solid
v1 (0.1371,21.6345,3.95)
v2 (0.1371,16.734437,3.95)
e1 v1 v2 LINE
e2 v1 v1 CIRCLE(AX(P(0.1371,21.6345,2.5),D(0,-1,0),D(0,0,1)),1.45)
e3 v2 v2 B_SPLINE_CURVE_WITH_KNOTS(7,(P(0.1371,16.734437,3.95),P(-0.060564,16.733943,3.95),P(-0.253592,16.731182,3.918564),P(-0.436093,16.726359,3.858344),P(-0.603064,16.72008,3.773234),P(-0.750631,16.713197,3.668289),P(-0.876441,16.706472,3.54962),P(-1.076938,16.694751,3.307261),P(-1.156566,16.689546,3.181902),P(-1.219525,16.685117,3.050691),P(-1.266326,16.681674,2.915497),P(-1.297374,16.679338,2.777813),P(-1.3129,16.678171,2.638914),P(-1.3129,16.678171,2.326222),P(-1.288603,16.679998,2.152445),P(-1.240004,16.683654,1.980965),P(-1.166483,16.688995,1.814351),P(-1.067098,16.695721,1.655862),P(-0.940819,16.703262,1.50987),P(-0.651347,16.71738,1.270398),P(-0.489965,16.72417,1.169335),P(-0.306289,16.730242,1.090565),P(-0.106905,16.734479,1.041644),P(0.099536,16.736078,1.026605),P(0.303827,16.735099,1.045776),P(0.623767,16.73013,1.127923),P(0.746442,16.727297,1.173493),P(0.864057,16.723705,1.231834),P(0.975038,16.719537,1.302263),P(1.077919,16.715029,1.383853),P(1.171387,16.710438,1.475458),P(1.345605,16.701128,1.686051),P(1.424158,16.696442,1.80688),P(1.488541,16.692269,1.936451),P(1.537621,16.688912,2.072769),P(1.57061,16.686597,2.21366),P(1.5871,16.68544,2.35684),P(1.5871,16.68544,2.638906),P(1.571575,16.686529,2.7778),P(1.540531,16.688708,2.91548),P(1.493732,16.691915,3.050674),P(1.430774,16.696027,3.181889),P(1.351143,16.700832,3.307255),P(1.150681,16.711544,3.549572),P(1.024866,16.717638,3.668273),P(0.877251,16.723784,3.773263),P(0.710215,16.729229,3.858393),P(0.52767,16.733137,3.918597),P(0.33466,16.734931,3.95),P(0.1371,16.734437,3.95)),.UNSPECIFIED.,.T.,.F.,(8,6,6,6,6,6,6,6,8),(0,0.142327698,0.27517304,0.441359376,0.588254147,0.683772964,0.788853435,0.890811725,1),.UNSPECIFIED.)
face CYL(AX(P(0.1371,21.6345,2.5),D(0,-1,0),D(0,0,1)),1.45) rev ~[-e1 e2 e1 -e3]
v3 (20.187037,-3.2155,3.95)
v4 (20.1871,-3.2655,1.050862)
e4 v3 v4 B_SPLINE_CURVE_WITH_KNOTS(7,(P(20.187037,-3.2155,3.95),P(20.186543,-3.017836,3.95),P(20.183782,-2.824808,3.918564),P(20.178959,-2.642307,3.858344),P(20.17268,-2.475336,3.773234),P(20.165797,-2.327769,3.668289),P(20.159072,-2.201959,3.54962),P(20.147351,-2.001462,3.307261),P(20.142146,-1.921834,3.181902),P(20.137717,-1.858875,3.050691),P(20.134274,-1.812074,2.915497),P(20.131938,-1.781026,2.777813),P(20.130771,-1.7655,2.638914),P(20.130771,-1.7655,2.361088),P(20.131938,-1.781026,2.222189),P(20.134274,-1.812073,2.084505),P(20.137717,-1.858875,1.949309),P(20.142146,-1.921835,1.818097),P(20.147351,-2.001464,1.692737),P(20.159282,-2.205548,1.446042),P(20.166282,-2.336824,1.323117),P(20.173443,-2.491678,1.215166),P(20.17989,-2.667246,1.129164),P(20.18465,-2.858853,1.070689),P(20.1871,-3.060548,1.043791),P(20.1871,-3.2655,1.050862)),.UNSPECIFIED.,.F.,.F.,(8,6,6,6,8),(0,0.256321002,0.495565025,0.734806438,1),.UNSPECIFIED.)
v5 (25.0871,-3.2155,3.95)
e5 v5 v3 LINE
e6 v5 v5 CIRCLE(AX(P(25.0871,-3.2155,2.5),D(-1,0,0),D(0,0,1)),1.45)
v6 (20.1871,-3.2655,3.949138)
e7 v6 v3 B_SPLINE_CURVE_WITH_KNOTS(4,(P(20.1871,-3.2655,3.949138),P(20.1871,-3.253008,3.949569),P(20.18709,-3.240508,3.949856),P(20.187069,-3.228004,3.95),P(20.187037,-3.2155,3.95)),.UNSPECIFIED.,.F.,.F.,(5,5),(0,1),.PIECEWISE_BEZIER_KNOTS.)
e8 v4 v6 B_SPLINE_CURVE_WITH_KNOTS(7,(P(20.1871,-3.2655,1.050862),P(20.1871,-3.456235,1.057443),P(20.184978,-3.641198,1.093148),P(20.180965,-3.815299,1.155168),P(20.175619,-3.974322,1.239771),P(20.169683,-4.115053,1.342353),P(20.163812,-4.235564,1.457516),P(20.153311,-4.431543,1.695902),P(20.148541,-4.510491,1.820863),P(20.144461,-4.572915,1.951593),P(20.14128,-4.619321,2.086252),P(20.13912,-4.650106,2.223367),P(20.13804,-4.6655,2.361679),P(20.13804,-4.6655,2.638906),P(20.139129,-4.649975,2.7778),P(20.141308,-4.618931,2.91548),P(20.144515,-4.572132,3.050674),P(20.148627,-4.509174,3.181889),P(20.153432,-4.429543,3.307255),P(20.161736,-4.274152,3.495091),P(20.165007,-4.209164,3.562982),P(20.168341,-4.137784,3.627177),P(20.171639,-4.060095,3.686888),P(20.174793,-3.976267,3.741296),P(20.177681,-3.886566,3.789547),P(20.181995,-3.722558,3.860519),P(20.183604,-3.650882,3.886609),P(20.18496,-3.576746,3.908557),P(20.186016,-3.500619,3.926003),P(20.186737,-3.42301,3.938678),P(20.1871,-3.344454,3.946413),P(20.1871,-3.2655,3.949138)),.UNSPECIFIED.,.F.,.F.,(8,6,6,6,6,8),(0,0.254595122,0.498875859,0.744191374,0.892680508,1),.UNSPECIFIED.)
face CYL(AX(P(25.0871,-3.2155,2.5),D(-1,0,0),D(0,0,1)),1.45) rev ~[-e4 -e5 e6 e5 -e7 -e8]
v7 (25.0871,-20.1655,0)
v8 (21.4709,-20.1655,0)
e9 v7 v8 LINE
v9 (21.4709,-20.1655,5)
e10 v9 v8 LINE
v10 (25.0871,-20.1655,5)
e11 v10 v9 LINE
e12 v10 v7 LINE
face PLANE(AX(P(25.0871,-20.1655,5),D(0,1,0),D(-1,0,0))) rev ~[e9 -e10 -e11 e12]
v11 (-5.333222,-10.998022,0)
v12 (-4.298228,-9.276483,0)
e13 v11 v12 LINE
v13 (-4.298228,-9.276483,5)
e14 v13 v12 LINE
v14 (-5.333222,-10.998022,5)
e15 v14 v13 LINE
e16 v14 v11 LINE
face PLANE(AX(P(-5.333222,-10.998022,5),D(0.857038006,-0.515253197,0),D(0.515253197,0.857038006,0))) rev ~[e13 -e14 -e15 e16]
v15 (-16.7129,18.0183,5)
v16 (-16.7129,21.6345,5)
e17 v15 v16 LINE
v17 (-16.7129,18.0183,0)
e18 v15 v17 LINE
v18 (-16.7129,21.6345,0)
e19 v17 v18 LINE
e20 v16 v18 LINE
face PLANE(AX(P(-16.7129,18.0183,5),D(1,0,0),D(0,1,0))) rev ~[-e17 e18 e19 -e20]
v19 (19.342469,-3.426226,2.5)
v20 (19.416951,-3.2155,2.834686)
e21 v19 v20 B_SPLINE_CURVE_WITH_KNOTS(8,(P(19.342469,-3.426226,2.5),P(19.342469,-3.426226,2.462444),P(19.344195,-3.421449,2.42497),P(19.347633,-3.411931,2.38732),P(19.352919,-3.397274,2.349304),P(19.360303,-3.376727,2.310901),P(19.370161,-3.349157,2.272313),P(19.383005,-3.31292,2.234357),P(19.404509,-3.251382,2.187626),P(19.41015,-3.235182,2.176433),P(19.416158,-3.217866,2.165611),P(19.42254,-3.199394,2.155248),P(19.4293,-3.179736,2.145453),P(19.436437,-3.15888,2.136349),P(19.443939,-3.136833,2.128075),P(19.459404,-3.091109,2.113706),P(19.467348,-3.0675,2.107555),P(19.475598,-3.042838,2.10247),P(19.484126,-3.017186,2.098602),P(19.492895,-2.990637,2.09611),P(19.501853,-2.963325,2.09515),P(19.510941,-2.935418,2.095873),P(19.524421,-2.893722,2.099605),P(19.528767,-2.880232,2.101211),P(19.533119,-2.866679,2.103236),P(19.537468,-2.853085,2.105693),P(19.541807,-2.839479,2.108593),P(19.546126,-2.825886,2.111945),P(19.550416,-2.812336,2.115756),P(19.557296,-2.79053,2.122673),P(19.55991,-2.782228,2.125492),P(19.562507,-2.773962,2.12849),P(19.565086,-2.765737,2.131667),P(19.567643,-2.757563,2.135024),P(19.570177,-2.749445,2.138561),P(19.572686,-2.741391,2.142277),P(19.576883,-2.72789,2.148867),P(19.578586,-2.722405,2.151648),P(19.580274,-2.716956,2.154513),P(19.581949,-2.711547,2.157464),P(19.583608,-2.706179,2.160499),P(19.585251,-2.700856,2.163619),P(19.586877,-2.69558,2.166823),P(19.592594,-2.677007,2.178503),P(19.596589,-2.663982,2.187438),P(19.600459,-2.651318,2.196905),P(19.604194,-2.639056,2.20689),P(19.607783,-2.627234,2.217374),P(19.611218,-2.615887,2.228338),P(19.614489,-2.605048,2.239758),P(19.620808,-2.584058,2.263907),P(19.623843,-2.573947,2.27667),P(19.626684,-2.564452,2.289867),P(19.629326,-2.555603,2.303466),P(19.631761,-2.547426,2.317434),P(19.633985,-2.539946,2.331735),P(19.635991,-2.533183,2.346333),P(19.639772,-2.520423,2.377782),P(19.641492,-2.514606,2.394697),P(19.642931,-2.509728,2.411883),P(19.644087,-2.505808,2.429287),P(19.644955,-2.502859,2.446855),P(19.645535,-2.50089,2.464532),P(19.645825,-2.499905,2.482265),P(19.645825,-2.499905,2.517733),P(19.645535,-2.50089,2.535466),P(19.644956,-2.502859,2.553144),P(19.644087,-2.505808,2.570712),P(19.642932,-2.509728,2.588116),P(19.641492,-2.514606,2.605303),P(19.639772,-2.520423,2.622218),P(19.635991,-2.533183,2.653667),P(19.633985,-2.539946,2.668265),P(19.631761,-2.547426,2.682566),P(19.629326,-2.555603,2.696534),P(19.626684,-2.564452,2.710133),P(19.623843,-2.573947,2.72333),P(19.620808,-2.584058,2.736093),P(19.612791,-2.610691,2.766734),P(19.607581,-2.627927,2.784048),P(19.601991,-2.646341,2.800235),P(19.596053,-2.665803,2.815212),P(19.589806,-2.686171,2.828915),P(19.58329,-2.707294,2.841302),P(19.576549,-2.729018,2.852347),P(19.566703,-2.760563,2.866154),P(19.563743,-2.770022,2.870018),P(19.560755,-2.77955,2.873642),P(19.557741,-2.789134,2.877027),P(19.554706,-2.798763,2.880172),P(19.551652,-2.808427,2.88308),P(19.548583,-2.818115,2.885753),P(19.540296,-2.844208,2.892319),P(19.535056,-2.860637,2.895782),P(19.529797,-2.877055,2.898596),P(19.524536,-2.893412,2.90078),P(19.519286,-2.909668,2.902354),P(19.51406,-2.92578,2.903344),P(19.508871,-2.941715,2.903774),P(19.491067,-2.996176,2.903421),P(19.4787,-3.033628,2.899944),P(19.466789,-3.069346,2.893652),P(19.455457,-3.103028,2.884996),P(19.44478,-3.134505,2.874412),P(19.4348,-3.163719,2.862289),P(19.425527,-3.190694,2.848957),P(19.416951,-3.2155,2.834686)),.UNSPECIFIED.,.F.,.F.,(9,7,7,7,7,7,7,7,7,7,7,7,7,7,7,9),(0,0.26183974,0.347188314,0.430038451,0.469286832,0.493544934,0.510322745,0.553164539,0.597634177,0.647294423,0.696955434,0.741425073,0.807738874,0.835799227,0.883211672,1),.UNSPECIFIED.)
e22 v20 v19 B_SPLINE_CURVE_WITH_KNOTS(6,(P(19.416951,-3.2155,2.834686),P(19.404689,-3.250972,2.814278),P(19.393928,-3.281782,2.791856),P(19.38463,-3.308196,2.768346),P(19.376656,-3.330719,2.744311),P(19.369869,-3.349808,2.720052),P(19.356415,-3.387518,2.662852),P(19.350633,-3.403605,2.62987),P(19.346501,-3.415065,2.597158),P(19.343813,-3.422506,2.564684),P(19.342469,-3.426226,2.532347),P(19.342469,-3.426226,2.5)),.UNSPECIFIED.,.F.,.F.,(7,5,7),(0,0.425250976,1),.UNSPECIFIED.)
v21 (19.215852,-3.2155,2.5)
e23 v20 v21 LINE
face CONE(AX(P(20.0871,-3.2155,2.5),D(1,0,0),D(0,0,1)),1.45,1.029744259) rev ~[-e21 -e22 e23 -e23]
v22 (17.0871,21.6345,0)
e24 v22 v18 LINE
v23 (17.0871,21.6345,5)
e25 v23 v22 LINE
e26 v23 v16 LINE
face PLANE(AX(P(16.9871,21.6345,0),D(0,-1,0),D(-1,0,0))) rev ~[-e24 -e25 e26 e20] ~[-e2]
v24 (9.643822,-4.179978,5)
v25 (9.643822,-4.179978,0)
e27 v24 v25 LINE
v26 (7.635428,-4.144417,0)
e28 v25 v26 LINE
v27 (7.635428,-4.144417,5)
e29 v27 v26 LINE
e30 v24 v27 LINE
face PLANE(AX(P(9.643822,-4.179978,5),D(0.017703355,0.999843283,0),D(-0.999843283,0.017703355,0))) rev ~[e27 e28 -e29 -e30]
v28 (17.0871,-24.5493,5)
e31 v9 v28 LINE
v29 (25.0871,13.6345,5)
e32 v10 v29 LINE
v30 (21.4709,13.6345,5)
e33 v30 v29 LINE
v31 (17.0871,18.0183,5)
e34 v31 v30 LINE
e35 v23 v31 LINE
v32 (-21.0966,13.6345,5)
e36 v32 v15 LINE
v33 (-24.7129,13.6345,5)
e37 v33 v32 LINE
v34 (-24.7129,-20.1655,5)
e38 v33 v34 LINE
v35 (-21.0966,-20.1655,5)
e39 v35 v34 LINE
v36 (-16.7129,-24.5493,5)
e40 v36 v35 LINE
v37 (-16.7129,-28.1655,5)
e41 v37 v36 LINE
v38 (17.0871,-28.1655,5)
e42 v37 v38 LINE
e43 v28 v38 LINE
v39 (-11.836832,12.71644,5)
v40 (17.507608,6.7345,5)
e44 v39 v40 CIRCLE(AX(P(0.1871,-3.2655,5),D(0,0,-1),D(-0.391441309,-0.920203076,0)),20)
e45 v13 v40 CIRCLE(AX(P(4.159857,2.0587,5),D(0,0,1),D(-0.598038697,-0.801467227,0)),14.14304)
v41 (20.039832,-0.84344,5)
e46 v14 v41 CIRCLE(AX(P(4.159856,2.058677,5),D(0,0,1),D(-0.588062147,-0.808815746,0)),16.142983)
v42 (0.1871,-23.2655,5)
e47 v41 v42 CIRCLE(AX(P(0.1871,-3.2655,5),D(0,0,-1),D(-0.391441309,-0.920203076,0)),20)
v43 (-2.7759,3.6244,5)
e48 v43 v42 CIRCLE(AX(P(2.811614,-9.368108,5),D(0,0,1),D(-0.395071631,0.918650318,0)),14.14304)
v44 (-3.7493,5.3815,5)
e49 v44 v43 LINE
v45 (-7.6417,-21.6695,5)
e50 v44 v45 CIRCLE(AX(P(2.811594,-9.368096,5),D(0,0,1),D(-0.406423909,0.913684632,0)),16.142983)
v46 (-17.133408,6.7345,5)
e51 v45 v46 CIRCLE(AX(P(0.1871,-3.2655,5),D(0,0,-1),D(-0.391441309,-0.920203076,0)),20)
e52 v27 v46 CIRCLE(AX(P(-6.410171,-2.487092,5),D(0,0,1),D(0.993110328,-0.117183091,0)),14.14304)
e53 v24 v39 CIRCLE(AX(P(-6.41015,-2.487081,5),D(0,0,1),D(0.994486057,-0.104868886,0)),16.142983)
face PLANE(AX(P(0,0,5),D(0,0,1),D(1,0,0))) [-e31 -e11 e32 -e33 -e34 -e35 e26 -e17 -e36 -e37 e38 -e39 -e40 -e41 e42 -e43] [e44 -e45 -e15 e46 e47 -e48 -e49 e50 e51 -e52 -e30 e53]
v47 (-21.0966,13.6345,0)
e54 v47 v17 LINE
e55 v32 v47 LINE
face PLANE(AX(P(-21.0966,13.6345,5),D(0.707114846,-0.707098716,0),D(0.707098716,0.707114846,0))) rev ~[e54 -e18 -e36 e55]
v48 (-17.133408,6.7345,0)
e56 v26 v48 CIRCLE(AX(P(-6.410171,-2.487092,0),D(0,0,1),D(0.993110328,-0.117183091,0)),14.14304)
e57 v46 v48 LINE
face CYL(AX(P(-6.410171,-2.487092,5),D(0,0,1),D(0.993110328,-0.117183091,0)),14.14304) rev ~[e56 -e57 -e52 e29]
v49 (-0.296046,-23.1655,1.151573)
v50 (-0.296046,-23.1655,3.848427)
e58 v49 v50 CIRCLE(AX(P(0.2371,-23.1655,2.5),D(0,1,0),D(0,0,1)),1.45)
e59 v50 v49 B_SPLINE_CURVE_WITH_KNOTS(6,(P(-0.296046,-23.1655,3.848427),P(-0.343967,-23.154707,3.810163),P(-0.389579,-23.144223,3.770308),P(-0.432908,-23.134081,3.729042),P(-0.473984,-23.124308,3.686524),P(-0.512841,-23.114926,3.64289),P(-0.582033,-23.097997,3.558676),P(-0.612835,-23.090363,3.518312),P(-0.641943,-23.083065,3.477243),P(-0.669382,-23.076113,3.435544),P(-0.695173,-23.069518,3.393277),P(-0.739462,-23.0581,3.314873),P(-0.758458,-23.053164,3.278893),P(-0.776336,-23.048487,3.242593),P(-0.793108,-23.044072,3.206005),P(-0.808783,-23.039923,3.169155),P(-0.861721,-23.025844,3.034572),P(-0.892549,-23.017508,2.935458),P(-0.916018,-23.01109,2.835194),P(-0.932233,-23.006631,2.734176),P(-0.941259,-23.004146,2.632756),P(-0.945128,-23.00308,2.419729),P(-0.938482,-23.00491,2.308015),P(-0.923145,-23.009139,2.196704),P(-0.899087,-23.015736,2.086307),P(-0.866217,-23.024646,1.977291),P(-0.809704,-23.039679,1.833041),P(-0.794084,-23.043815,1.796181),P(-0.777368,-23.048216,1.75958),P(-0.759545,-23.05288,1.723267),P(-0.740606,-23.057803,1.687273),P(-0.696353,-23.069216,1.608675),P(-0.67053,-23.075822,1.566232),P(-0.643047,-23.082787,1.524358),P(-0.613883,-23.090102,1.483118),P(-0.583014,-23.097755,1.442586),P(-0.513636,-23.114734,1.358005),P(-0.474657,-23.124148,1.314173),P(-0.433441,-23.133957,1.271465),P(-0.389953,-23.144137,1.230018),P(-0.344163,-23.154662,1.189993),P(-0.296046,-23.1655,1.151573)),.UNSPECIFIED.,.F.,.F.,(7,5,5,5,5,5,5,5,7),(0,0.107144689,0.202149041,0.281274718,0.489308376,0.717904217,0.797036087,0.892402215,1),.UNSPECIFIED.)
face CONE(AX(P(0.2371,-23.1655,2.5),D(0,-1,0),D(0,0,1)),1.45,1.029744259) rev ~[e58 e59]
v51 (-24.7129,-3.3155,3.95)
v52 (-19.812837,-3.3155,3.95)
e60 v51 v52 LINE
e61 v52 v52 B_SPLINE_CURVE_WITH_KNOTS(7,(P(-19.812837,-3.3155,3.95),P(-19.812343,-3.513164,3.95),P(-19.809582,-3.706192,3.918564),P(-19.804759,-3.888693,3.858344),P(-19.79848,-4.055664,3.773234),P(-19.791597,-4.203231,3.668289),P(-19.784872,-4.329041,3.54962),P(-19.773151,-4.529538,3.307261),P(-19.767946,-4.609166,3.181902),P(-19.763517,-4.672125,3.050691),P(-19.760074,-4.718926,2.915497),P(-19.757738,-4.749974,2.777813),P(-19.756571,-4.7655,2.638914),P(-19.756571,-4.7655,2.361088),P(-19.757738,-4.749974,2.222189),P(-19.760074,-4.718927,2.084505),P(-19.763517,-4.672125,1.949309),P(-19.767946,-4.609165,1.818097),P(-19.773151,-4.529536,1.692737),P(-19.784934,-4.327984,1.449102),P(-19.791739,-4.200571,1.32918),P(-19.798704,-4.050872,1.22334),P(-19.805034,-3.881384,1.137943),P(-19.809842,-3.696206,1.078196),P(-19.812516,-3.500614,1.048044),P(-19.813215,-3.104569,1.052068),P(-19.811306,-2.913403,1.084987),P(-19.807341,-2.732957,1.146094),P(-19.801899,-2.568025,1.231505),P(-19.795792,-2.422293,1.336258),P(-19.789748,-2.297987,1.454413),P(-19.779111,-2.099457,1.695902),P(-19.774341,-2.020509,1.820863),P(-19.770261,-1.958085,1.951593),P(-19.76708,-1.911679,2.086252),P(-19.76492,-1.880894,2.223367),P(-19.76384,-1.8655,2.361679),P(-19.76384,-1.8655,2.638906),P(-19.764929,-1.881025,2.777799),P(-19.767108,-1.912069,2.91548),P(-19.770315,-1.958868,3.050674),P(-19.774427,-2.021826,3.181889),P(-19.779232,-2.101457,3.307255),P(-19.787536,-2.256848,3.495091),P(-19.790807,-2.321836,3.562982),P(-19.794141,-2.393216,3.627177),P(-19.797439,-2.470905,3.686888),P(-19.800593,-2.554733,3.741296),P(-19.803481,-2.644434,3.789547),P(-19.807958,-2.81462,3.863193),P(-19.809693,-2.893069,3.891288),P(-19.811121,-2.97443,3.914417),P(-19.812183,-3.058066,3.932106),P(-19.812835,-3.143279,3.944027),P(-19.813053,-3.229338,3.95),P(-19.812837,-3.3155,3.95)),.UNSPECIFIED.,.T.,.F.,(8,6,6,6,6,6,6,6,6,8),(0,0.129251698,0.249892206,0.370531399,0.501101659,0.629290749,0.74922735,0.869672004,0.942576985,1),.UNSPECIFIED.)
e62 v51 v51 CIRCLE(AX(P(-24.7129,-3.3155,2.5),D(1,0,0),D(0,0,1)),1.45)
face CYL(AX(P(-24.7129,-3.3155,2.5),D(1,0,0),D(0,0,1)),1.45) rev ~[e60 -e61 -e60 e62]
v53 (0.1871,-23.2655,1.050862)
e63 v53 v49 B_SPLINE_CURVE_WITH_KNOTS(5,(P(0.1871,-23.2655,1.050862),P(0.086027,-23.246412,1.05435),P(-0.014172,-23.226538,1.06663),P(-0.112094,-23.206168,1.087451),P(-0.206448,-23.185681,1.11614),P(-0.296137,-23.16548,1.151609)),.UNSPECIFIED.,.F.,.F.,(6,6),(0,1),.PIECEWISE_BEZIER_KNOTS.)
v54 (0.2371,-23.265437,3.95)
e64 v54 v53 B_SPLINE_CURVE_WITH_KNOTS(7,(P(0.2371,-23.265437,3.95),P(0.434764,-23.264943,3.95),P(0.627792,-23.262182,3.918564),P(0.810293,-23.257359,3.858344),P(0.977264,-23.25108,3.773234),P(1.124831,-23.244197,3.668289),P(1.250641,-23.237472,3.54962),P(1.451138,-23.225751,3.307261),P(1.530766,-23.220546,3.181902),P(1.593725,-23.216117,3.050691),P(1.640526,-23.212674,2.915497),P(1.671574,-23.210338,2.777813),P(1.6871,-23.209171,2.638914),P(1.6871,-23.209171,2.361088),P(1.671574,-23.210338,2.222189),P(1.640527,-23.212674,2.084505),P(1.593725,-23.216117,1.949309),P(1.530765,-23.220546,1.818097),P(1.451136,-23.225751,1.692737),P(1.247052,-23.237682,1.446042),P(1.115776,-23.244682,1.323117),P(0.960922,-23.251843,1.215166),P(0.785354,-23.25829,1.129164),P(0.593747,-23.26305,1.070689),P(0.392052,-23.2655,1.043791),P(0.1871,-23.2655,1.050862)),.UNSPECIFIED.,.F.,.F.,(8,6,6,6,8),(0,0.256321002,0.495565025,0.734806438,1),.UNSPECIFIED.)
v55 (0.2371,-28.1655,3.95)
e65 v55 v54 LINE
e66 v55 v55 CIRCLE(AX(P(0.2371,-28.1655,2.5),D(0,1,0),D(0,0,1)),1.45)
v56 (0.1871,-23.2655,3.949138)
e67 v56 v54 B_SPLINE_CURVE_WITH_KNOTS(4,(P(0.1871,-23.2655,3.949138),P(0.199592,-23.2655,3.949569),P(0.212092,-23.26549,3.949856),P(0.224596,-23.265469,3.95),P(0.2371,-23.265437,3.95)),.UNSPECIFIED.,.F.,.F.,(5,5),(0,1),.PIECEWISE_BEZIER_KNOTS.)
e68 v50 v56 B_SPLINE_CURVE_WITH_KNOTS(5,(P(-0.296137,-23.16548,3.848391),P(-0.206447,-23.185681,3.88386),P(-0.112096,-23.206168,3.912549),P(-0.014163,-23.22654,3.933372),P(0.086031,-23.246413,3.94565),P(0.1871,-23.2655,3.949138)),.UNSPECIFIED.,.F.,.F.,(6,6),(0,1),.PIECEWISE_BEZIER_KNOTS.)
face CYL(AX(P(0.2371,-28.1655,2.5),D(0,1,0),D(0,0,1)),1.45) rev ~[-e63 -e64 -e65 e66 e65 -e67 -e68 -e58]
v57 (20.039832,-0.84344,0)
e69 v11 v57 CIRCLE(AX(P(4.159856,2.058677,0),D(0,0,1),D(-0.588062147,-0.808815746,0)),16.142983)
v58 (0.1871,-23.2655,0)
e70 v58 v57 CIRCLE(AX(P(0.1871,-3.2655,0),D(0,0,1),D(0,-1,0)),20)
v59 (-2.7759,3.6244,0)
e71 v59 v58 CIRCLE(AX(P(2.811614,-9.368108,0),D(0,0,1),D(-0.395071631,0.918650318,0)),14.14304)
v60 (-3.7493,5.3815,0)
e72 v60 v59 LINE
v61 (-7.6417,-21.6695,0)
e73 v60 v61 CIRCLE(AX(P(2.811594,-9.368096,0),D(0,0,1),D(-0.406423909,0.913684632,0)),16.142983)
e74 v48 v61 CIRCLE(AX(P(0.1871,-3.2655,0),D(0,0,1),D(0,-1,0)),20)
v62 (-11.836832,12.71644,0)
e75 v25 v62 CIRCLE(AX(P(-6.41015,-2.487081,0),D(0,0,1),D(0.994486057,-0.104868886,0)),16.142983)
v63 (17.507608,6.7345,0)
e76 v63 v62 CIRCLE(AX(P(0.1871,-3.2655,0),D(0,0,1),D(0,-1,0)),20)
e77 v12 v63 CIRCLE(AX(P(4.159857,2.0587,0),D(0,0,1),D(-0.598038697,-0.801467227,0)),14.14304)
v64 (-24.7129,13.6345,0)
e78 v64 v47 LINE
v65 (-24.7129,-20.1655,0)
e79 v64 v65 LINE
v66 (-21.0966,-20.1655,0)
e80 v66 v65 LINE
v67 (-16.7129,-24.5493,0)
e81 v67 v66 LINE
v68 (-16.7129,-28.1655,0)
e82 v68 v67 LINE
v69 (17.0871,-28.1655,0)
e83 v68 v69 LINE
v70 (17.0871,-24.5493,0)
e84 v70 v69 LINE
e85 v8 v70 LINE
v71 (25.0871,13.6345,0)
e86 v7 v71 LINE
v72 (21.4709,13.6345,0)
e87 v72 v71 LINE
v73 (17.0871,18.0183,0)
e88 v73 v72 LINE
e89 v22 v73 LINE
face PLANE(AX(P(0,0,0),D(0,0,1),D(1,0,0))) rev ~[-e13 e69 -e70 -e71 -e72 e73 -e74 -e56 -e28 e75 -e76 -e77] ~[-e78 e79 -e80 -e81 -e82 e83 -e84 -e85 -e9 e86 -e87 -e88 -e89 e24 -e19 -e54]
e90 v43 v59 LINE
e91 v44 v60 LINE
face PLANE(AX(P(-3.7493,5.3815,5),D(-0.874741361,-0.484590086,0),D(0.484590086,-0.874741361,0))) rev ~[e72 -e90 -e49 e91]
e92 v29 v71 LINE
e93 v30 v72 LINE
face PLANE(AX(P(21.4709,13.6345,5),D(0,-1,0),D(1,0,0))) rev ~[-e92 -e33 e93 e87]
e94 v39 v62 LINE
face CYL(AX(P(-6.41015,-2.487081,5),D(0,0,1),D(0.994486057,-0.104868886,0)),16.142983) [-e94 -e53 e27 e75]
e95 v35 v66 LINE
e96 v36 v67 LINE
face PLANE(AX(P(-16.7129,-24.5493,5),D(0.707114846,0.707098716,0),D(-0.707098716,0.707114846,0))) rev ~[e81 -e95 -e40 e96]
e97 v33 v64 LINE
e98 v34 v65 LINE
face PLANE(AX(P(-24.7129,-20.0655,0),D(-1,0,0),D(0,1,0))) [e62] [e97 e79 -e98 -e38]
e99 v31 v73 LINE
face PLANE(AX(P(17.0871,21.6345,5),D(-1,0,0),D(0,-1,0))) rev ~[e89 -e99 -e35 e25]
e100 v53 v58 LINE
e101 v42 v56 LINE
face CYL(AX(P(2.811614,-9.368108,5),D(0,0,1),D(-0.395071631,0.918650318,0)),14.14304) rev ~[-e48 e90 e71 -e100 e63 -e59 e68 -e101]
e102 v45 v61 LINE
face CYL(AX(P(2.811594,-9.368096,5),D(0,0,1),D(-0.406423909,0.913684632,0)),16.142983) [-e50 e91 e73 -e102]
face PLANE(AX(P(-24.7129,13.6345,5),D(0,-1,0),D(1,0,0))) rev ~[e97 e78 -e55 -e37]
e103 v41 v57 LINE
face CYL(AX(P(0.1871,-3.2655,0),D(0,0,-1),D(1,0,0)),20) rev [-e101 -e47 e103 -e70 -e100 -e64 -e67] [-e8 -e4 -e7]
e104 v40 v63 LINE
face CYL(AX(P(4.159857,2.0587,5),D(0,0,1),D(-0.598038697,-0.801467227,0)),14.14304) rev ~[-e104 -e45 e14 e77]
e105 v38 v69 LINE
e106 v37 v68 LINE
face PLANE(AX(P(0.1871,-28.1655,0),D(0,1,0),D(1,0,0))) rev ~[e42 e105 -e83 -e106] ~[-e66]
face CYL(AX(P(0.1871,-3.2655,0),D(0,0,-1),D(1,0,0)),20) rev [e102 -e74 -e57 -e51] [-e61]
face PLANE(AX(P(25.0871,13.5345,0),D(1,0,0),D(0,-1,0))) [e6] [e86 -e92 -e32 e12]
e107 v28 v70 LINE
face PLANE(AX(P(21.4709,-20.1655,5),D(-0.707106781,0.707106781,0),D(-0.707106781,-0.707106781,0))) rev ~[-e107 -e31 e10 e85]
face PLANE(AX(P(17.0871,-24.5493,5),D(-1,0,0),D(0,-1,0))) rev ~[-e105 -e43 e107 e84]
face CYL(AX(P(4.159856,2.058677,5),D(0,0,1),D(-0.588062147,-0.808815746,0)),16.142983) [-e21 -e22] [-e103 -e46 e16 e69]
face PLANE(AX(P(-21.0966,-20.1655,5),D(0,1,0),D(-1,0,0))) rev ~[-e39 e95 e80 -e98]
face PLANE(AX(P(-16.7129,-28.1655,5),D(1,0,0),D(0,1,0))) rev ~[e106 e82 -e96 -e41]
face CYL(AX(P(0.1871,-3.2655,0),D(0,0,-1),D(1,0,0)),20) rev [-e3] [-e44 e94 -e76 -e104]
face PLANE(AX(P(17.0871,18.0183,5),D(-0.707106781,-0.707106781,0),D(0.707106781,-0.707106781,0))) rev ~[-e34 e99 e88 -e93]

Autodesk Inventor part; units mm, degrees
ref_plane "YZ Plane" through (0, 0, 0) normal (1, 0, 0) x (0, 1, 0)
ref_plane "XZ Plane" through (0, 0, 0) normal (0, 1, 0) x (-1, 0, 0)
ref_plane "XY Plane" through (0, 0, 0) normal (0, 0, 1) x (1, 0, 0)
sketch "Sketch1" plane through (0, 0, 0) normal (0, 0, 1) x (1, 0, 0)
  line L0 (21.5871, 13.6345) -> (17.0871, 18.1345) projected
  line L1 (17.0871, 18.1345) -> (-16.7129, 18.1345) projected
  line L2 (-16.7129, 18.1345) -> (-21.2129, 13.6345) projected
  line L3 (-21.0966, 13.6345) -> (-21.0966, -20.1655) projected
  line L4 (21.4709, -20.1655) -> (21.4709, 13.6345) projected
  line L5 (21.4709, -20.1655) -> (17.0871, -24.4078) projected
  line L6 (-16.7129, -24.4078) -> (17.0871, -24.4078) projected
  line L7 (-16.7129, -24.4078) -> (-21.0966, -20.1655) projected
  line L8 (-24.7129, -28.1655) -> (-24.7129, 13.6345) construction
  line L9 (25.0871, -28.1655) -> (-24.7129, -28.1655) construction
  line L10 (25.0871, -28.1655) -> (25.0871, 13.6345) construction
  line L11 (17.0871, 21.6345) -> (-16.7129, 21.6345) construction
  line L12 (0.1871, -36.5255) -> (0.1871, 21.9945)
  line L13 (-21.0552, -20.0655) -> (-16.6129, -24.5078)
  line L14 (-16.6129, -24.5078) -> (-16.6129, -28.1655)
  line L15 (-16.6129, -28.1655) -> (16.9871, -28.1655)
  line L16 (16.9871, -28.1655) -> (16.9871, -24.5078)
  line L17 (16.9871, -24.5078) -> (21.4295, -20.0655)
  line L18 (25.0871, -20.0655) -> (21.4295, -20.0655)
  line L19 (25.0871, 13.5345) -> (25.0871, -20.0655)
  line L20 (21.4295, 13.5345) -> (25.0871, 13.5345)
  line L21 (21.4295, 13.5345) -> (16.9871, 17.9768)
  line L22 (16.9871, 17.9768) -> (16.9871, 21.6345)
  line L23 (16.9871, 21.6345) -> (-16.6129, 21.6345)
  line L24 (-16.6129, 21.6345) -> (-16.6129, 17.9768)
  line L25 (-16.6129, 17.9768) -> (-21.0552, 13.5345)
  line L26 (-24.7129, 13.5345) -> (-21.0552, 13.5345)
  line L27 (-24.7129, -20.0655) -> (-24.7129, 13.5345)
  line L28 (-21.0552, -20.0655) -> (-24.7129, -20.0655)
  circle A0 centre (0.1871, -3.2655) radius 12.5 construction
  circle A1 centre (0.1871, -3.2655) radius 16.9 construction
  circle A2 centre (0.1871, -3.2655) radius 7.5 construction
  line L29 (0.547, -12.2476) -> (0.8041, -10.7401)
  arc A3 (-10.8411, 9.29) -> (0.8041, -10.7401) centre (-0.9086, 1.6644) ccw
  arc A4 (-14.6035, 4.5126) -> (0.547, -12.2476) centre (-0.9086, 1.6644) ccw
  arc A5 (-5.1721, -19.094) -> (6.3518, 1.0061) centre (-3.5344, -6.6794) ccw
  arc A6 (0.8464, -19.9636) -> (7.786, 1.5372) centre (-3.5344, -6.6794) ccw
  line L30 (7.786, 1.5372) -> (6.3518, 1.0061)
  arc A7 (16.5746, 0.0075) -> (-6.5945, -0.0625) centre (5.0044, -4.7815) ccw
  arc A8 (14.3185, 5.6545) -> (-7.7715, 0.914) centre (5.0044, -4.7815) ccw
  line L31 (-7.7715, 0.914) -> (-6.5945, -0.0625)
  arc A9 (0.1871, -19.9766) -> (0.8464, -19.9636) centre (0.211, -4.4767) ccw
  arc A10 (-12.8462, 5.1239) -> (-13.1888, 4.5662) centre (0.1871, -3.2655) ccw
  arc A11 (-12.8462, 5.1239) -> (-13.1888, 4.5662) centre (0.1871, -3.2655) ccw
  arc A12 (14.3185, 5.6545) -> (-10.8411, 9.29) centre (0.1871, -3.2655) ccw construction
  arc A13 (14.3185, 5.6545) -> (-10.8411, 9.29) centre (0.1871, -3.2655) ccw
  arc A14 (-14.6035, 4.5126) -> (-5.1721, -19.094) centre (0.1871, -3.2655) ccw construction
  arc A15 (0.1871, -19.9766) -> (16.5746, 0.0075) centre (0.1871, -3.2655) ccw construction
  arc A16 (-14.6035, 4.5126) -> (-5.1721, -19.094) centre (0.1871, -3.2655) ccw
  arc A17 (0.1871, -19.9766) -> (16.5746, 0.0075) centre (0.1871, -3.2655) ccw
  circle A18 centre (0.1871, -3.2655) radius 20
  point P0 (14.2, -44.8454)
  point P1 (16.9871, 19.8057)
  dimension "d49" = 15
  dimension "d48" = 25
  dimension "d53" = 360
  dimension "d61" = 40
extrude "Extrusion1" add sketch "Sketch1" along normal blind 5 contours L22 L21 L20 L4 L18 L17 L6 L12 A18 L1 | L1 L12 L23 L22 | L12 A18 L6 L13 L28 L3 L26 L25 L24 L1 | L1 L24 L23 L12 | L20 L19 L18 L4 | L12 L15 L14 L13 L6 | L6 L17 L16 L15 L12 | L3 L28 L27 L26
sketch "Sketch3" plane through (0, 0, 5) normal (0, 0, 1) x (1, 0, 0)
  circle A0 centre (0.1871, -3.2655) radius 20 projected
  circle A1 centre (0.1871, -3.2655) radius 7.5 construction
  arc A2 (-2.7759, 3.6244) -> (0.1871, -23.2655) centre (2.8116, -9.3681) ccw
  arc A3 (-3.7493, 5.3815) -> (-7.6417, -21.6695) centre (2.8116, -9.3681) ccw
  line L0 (-3.7493, 5.3815) -> (-2.7759, 3.6244)
  arc A4 (-7.6417, -21.6695) -> (0.1871, -23.2655) centre (0.1871, -3.2655) ccw
  point P0 (0, 0)
  dimension "d55" = 15
  dimension "d62" = 2
extrude "Extrusion3" add sketch "Sketch3" against normal up to surface (5 mm away) contours A3 L0 A2 A0 picked at (-8.119, 1.4619)
pattern_circular "Circular Pattern1" count 3 over 360 about axis through (0.1871, -3.2655, 0) along (0, 0, 1) of "Extrusion3"
sketch "Sketch4" plane through (-24.7129, -20.0655, 0) normal (-1, 0, 0) x (0, 0, 1)
  line L0 (0, 41.7) -> (5, 41.7) projected
  point P0 (0, 20.0655)
  point P1 (2.5, 16.75)
  dimension "d63" = 24.95
hole "Hole1" at (-24.7129, -3.3155, 2.5) direction (1, 0, 0) diameter 2.9 depth 5 tip angle 118
pattern_circular "Circular Pattern2" count 4 over 360 about axis through (0.1871, -3.2655, 0) along (0, 0, 1) of "Hole1"
sketch "Skizze5" plane through (0, 0, 5) normal (0, 0, 1) x (1, 0, 0)
  arc A0 (-17.1334, 6.7345) -> (-7.6417, -21.6695) centre (0.1871, -3.2655) ccw construction
  arc A1 (7.6355, -4.1444) -> (-17.1334, 6.7345) centre (-6.4101, -2.487) ccw construction
  line L0 (7.6355, -4.1444) -> (9.6439, -4.1799) construction
  arc A2 (9.6439, -4.1799) -> (-11.8368, 12.7165) centre (-6.4101, -2.487) ccw construction
  arc A3 (17.5076, 6.7345) -> (-11.8368, 12.7165) centre (0.1871, -3.2655) ccw construction
  arc A4 (-4.2982, -9.2765) -> (17.5076, 6.7345) centre (4.1599, 2.0586) ccw construction
  line L1 (-4.2982, -9.2765) -> (-5.3332, -10.9981) construction
  arc A5 (-5.3332, -10.9981) -> (20.0399, -0.8435) centre (4.1599, 2.0586) ccw construction
  arc A6 (0.1871, -23.2655) -> (20.0399, -0.8435) centre (0.1871, -3.2655) ccw construction
  arc A7 (-2.7759, 3.6244) -> (0.1871, -23.2655) centre (2.8116, -9.3681) ccw construction
  line L2 (-2.7759, 3.6244) -> (-3.7493, 5.3815) construction
  arc A8 (-3.7493, 5.3815) -> (-7.6417, -21.6695) centre (2.8116, -9.3681) ccw construction
  line L3 (-21.0552, -20.0655) -> (-16.6129, -24.5078) projected
  line L4 (-16.6129, -24.5078) -> (-16.6129, -28.1655) projected
  line L5 (-16.6129, -28.1655) -> (16.9871, -28.1655) construction
  line L6 (16.9871, -28.1655) -> (16.9871, -24.5078) projected
  line L7 (16.9871, -24.5078) -> (21.4295, -20.0655) projected
  line L8 (21.4295, -20.0655) -> (25.0871, -20.0655) projected
  line L9 (25.0871, -20.0655) -> (25.0871, 13.5345) construction
  line L10 (25.0871, 13.5345) -> (21.4295, 13.5345) projected
  line L11 (21.4295, 13.5345) -> (16.9871, 17.9768) projected
  line L12 (16.9871, 17.9768) -> (16.9871, 21.6345) projected
  line L13 (16.9871, 21.6345) -> (-16.6129, 21.6345) construction
  line L14 (-16.6129, 21.6345) -> (-16.6129, 17.9768) projected
  line L15 (-16.6129, 17.9768) -> (-21.0552, 13.5345) projected
  line L16 (-21.0552, 13.5345) -> (-24.7129, 13.5345) projected
  line L17 (-24.7129, 13.5345) -> (-24.7129, -20.0655) construction
  line L18 (-24.7129, -20.0655) -> (-21.0552, -20.0655) projected
  line L19 (-16.7129, 21.7345) -> (17.0871, 21.7345) construction
  line L20 (17.0871, 21.7345) -> (17.0871, 18.0183)
  line L21 (17.0871, 18.0183) -> (21.4709, 13.6345)
  line L22 (21.4709, 13.6345) -> (25.1871, 13.6345)
  line L23 (25.1871, 13.6345) -> (25.1871, -20.1655) construction
  line L24 (25.1871, -20.1655) -> (21.4709, -20.1655)
  line L25 (21.4709, -20.1655) -> (17.0871, -24.5493)
  line L26 (17.0871, -24.5493) -> (17.0871, -28.2655)
  line L27 (17.0871, -28.2655) -> (-16.7129, -28.2655) construction
  line L28 (-16.7129, -28.2655) -> (-16.7129, -24.5493)
  line L29 (-16.7129, -24.5493) -> (-21.0966, -20.1655)
  line L30 (-21.0966, -20.1655) -> (-24.8129, -20.1655)
  line L31 (-24.8129, -20.1655) -> (-24.8129, 13.6345) construction
  line L32 (-24.8129, 13.6345) -> (-21.0966, 13.6345)
  line L33 (-21.0966, 13.6345) -> (-16.7129, 18.0183)
  line L34 (-16.7129, 18.0183) -> (-16.7129, 21.7345)
  line L35 (-24.7129, 13.5345) -> (-24.7129, 13.6345)
  line L36 (-16.6129, 21.6345) -> (-16.7129, 21.6345)
  line L37 (16.9871, 21.6345) -> (17.0871, 21.6345)
  line L38 (25.0871, 13.5345) -> (25.0871, 13.6345)
  line L39 (25.0871, -20.0655) -> (25.0871, -20.1655)
  line L40 (16.9871, -28.1655) -> (17.0871, -28.1655)
  line L41 (-16.6129, -28.1655) -> (-16.7129, -28.1655)
  line L42 (-24.7129, -20.0655) -> (-24.7129, -20.1655)
  point P0 (0, 0)
  dimension "d74" = 0.1
extrude "IM_offset" add sketch "Skizze5" against normal up to surface (5 mm away)
properties part number "20_Cube_Insert_Laser_Holder_v2"
